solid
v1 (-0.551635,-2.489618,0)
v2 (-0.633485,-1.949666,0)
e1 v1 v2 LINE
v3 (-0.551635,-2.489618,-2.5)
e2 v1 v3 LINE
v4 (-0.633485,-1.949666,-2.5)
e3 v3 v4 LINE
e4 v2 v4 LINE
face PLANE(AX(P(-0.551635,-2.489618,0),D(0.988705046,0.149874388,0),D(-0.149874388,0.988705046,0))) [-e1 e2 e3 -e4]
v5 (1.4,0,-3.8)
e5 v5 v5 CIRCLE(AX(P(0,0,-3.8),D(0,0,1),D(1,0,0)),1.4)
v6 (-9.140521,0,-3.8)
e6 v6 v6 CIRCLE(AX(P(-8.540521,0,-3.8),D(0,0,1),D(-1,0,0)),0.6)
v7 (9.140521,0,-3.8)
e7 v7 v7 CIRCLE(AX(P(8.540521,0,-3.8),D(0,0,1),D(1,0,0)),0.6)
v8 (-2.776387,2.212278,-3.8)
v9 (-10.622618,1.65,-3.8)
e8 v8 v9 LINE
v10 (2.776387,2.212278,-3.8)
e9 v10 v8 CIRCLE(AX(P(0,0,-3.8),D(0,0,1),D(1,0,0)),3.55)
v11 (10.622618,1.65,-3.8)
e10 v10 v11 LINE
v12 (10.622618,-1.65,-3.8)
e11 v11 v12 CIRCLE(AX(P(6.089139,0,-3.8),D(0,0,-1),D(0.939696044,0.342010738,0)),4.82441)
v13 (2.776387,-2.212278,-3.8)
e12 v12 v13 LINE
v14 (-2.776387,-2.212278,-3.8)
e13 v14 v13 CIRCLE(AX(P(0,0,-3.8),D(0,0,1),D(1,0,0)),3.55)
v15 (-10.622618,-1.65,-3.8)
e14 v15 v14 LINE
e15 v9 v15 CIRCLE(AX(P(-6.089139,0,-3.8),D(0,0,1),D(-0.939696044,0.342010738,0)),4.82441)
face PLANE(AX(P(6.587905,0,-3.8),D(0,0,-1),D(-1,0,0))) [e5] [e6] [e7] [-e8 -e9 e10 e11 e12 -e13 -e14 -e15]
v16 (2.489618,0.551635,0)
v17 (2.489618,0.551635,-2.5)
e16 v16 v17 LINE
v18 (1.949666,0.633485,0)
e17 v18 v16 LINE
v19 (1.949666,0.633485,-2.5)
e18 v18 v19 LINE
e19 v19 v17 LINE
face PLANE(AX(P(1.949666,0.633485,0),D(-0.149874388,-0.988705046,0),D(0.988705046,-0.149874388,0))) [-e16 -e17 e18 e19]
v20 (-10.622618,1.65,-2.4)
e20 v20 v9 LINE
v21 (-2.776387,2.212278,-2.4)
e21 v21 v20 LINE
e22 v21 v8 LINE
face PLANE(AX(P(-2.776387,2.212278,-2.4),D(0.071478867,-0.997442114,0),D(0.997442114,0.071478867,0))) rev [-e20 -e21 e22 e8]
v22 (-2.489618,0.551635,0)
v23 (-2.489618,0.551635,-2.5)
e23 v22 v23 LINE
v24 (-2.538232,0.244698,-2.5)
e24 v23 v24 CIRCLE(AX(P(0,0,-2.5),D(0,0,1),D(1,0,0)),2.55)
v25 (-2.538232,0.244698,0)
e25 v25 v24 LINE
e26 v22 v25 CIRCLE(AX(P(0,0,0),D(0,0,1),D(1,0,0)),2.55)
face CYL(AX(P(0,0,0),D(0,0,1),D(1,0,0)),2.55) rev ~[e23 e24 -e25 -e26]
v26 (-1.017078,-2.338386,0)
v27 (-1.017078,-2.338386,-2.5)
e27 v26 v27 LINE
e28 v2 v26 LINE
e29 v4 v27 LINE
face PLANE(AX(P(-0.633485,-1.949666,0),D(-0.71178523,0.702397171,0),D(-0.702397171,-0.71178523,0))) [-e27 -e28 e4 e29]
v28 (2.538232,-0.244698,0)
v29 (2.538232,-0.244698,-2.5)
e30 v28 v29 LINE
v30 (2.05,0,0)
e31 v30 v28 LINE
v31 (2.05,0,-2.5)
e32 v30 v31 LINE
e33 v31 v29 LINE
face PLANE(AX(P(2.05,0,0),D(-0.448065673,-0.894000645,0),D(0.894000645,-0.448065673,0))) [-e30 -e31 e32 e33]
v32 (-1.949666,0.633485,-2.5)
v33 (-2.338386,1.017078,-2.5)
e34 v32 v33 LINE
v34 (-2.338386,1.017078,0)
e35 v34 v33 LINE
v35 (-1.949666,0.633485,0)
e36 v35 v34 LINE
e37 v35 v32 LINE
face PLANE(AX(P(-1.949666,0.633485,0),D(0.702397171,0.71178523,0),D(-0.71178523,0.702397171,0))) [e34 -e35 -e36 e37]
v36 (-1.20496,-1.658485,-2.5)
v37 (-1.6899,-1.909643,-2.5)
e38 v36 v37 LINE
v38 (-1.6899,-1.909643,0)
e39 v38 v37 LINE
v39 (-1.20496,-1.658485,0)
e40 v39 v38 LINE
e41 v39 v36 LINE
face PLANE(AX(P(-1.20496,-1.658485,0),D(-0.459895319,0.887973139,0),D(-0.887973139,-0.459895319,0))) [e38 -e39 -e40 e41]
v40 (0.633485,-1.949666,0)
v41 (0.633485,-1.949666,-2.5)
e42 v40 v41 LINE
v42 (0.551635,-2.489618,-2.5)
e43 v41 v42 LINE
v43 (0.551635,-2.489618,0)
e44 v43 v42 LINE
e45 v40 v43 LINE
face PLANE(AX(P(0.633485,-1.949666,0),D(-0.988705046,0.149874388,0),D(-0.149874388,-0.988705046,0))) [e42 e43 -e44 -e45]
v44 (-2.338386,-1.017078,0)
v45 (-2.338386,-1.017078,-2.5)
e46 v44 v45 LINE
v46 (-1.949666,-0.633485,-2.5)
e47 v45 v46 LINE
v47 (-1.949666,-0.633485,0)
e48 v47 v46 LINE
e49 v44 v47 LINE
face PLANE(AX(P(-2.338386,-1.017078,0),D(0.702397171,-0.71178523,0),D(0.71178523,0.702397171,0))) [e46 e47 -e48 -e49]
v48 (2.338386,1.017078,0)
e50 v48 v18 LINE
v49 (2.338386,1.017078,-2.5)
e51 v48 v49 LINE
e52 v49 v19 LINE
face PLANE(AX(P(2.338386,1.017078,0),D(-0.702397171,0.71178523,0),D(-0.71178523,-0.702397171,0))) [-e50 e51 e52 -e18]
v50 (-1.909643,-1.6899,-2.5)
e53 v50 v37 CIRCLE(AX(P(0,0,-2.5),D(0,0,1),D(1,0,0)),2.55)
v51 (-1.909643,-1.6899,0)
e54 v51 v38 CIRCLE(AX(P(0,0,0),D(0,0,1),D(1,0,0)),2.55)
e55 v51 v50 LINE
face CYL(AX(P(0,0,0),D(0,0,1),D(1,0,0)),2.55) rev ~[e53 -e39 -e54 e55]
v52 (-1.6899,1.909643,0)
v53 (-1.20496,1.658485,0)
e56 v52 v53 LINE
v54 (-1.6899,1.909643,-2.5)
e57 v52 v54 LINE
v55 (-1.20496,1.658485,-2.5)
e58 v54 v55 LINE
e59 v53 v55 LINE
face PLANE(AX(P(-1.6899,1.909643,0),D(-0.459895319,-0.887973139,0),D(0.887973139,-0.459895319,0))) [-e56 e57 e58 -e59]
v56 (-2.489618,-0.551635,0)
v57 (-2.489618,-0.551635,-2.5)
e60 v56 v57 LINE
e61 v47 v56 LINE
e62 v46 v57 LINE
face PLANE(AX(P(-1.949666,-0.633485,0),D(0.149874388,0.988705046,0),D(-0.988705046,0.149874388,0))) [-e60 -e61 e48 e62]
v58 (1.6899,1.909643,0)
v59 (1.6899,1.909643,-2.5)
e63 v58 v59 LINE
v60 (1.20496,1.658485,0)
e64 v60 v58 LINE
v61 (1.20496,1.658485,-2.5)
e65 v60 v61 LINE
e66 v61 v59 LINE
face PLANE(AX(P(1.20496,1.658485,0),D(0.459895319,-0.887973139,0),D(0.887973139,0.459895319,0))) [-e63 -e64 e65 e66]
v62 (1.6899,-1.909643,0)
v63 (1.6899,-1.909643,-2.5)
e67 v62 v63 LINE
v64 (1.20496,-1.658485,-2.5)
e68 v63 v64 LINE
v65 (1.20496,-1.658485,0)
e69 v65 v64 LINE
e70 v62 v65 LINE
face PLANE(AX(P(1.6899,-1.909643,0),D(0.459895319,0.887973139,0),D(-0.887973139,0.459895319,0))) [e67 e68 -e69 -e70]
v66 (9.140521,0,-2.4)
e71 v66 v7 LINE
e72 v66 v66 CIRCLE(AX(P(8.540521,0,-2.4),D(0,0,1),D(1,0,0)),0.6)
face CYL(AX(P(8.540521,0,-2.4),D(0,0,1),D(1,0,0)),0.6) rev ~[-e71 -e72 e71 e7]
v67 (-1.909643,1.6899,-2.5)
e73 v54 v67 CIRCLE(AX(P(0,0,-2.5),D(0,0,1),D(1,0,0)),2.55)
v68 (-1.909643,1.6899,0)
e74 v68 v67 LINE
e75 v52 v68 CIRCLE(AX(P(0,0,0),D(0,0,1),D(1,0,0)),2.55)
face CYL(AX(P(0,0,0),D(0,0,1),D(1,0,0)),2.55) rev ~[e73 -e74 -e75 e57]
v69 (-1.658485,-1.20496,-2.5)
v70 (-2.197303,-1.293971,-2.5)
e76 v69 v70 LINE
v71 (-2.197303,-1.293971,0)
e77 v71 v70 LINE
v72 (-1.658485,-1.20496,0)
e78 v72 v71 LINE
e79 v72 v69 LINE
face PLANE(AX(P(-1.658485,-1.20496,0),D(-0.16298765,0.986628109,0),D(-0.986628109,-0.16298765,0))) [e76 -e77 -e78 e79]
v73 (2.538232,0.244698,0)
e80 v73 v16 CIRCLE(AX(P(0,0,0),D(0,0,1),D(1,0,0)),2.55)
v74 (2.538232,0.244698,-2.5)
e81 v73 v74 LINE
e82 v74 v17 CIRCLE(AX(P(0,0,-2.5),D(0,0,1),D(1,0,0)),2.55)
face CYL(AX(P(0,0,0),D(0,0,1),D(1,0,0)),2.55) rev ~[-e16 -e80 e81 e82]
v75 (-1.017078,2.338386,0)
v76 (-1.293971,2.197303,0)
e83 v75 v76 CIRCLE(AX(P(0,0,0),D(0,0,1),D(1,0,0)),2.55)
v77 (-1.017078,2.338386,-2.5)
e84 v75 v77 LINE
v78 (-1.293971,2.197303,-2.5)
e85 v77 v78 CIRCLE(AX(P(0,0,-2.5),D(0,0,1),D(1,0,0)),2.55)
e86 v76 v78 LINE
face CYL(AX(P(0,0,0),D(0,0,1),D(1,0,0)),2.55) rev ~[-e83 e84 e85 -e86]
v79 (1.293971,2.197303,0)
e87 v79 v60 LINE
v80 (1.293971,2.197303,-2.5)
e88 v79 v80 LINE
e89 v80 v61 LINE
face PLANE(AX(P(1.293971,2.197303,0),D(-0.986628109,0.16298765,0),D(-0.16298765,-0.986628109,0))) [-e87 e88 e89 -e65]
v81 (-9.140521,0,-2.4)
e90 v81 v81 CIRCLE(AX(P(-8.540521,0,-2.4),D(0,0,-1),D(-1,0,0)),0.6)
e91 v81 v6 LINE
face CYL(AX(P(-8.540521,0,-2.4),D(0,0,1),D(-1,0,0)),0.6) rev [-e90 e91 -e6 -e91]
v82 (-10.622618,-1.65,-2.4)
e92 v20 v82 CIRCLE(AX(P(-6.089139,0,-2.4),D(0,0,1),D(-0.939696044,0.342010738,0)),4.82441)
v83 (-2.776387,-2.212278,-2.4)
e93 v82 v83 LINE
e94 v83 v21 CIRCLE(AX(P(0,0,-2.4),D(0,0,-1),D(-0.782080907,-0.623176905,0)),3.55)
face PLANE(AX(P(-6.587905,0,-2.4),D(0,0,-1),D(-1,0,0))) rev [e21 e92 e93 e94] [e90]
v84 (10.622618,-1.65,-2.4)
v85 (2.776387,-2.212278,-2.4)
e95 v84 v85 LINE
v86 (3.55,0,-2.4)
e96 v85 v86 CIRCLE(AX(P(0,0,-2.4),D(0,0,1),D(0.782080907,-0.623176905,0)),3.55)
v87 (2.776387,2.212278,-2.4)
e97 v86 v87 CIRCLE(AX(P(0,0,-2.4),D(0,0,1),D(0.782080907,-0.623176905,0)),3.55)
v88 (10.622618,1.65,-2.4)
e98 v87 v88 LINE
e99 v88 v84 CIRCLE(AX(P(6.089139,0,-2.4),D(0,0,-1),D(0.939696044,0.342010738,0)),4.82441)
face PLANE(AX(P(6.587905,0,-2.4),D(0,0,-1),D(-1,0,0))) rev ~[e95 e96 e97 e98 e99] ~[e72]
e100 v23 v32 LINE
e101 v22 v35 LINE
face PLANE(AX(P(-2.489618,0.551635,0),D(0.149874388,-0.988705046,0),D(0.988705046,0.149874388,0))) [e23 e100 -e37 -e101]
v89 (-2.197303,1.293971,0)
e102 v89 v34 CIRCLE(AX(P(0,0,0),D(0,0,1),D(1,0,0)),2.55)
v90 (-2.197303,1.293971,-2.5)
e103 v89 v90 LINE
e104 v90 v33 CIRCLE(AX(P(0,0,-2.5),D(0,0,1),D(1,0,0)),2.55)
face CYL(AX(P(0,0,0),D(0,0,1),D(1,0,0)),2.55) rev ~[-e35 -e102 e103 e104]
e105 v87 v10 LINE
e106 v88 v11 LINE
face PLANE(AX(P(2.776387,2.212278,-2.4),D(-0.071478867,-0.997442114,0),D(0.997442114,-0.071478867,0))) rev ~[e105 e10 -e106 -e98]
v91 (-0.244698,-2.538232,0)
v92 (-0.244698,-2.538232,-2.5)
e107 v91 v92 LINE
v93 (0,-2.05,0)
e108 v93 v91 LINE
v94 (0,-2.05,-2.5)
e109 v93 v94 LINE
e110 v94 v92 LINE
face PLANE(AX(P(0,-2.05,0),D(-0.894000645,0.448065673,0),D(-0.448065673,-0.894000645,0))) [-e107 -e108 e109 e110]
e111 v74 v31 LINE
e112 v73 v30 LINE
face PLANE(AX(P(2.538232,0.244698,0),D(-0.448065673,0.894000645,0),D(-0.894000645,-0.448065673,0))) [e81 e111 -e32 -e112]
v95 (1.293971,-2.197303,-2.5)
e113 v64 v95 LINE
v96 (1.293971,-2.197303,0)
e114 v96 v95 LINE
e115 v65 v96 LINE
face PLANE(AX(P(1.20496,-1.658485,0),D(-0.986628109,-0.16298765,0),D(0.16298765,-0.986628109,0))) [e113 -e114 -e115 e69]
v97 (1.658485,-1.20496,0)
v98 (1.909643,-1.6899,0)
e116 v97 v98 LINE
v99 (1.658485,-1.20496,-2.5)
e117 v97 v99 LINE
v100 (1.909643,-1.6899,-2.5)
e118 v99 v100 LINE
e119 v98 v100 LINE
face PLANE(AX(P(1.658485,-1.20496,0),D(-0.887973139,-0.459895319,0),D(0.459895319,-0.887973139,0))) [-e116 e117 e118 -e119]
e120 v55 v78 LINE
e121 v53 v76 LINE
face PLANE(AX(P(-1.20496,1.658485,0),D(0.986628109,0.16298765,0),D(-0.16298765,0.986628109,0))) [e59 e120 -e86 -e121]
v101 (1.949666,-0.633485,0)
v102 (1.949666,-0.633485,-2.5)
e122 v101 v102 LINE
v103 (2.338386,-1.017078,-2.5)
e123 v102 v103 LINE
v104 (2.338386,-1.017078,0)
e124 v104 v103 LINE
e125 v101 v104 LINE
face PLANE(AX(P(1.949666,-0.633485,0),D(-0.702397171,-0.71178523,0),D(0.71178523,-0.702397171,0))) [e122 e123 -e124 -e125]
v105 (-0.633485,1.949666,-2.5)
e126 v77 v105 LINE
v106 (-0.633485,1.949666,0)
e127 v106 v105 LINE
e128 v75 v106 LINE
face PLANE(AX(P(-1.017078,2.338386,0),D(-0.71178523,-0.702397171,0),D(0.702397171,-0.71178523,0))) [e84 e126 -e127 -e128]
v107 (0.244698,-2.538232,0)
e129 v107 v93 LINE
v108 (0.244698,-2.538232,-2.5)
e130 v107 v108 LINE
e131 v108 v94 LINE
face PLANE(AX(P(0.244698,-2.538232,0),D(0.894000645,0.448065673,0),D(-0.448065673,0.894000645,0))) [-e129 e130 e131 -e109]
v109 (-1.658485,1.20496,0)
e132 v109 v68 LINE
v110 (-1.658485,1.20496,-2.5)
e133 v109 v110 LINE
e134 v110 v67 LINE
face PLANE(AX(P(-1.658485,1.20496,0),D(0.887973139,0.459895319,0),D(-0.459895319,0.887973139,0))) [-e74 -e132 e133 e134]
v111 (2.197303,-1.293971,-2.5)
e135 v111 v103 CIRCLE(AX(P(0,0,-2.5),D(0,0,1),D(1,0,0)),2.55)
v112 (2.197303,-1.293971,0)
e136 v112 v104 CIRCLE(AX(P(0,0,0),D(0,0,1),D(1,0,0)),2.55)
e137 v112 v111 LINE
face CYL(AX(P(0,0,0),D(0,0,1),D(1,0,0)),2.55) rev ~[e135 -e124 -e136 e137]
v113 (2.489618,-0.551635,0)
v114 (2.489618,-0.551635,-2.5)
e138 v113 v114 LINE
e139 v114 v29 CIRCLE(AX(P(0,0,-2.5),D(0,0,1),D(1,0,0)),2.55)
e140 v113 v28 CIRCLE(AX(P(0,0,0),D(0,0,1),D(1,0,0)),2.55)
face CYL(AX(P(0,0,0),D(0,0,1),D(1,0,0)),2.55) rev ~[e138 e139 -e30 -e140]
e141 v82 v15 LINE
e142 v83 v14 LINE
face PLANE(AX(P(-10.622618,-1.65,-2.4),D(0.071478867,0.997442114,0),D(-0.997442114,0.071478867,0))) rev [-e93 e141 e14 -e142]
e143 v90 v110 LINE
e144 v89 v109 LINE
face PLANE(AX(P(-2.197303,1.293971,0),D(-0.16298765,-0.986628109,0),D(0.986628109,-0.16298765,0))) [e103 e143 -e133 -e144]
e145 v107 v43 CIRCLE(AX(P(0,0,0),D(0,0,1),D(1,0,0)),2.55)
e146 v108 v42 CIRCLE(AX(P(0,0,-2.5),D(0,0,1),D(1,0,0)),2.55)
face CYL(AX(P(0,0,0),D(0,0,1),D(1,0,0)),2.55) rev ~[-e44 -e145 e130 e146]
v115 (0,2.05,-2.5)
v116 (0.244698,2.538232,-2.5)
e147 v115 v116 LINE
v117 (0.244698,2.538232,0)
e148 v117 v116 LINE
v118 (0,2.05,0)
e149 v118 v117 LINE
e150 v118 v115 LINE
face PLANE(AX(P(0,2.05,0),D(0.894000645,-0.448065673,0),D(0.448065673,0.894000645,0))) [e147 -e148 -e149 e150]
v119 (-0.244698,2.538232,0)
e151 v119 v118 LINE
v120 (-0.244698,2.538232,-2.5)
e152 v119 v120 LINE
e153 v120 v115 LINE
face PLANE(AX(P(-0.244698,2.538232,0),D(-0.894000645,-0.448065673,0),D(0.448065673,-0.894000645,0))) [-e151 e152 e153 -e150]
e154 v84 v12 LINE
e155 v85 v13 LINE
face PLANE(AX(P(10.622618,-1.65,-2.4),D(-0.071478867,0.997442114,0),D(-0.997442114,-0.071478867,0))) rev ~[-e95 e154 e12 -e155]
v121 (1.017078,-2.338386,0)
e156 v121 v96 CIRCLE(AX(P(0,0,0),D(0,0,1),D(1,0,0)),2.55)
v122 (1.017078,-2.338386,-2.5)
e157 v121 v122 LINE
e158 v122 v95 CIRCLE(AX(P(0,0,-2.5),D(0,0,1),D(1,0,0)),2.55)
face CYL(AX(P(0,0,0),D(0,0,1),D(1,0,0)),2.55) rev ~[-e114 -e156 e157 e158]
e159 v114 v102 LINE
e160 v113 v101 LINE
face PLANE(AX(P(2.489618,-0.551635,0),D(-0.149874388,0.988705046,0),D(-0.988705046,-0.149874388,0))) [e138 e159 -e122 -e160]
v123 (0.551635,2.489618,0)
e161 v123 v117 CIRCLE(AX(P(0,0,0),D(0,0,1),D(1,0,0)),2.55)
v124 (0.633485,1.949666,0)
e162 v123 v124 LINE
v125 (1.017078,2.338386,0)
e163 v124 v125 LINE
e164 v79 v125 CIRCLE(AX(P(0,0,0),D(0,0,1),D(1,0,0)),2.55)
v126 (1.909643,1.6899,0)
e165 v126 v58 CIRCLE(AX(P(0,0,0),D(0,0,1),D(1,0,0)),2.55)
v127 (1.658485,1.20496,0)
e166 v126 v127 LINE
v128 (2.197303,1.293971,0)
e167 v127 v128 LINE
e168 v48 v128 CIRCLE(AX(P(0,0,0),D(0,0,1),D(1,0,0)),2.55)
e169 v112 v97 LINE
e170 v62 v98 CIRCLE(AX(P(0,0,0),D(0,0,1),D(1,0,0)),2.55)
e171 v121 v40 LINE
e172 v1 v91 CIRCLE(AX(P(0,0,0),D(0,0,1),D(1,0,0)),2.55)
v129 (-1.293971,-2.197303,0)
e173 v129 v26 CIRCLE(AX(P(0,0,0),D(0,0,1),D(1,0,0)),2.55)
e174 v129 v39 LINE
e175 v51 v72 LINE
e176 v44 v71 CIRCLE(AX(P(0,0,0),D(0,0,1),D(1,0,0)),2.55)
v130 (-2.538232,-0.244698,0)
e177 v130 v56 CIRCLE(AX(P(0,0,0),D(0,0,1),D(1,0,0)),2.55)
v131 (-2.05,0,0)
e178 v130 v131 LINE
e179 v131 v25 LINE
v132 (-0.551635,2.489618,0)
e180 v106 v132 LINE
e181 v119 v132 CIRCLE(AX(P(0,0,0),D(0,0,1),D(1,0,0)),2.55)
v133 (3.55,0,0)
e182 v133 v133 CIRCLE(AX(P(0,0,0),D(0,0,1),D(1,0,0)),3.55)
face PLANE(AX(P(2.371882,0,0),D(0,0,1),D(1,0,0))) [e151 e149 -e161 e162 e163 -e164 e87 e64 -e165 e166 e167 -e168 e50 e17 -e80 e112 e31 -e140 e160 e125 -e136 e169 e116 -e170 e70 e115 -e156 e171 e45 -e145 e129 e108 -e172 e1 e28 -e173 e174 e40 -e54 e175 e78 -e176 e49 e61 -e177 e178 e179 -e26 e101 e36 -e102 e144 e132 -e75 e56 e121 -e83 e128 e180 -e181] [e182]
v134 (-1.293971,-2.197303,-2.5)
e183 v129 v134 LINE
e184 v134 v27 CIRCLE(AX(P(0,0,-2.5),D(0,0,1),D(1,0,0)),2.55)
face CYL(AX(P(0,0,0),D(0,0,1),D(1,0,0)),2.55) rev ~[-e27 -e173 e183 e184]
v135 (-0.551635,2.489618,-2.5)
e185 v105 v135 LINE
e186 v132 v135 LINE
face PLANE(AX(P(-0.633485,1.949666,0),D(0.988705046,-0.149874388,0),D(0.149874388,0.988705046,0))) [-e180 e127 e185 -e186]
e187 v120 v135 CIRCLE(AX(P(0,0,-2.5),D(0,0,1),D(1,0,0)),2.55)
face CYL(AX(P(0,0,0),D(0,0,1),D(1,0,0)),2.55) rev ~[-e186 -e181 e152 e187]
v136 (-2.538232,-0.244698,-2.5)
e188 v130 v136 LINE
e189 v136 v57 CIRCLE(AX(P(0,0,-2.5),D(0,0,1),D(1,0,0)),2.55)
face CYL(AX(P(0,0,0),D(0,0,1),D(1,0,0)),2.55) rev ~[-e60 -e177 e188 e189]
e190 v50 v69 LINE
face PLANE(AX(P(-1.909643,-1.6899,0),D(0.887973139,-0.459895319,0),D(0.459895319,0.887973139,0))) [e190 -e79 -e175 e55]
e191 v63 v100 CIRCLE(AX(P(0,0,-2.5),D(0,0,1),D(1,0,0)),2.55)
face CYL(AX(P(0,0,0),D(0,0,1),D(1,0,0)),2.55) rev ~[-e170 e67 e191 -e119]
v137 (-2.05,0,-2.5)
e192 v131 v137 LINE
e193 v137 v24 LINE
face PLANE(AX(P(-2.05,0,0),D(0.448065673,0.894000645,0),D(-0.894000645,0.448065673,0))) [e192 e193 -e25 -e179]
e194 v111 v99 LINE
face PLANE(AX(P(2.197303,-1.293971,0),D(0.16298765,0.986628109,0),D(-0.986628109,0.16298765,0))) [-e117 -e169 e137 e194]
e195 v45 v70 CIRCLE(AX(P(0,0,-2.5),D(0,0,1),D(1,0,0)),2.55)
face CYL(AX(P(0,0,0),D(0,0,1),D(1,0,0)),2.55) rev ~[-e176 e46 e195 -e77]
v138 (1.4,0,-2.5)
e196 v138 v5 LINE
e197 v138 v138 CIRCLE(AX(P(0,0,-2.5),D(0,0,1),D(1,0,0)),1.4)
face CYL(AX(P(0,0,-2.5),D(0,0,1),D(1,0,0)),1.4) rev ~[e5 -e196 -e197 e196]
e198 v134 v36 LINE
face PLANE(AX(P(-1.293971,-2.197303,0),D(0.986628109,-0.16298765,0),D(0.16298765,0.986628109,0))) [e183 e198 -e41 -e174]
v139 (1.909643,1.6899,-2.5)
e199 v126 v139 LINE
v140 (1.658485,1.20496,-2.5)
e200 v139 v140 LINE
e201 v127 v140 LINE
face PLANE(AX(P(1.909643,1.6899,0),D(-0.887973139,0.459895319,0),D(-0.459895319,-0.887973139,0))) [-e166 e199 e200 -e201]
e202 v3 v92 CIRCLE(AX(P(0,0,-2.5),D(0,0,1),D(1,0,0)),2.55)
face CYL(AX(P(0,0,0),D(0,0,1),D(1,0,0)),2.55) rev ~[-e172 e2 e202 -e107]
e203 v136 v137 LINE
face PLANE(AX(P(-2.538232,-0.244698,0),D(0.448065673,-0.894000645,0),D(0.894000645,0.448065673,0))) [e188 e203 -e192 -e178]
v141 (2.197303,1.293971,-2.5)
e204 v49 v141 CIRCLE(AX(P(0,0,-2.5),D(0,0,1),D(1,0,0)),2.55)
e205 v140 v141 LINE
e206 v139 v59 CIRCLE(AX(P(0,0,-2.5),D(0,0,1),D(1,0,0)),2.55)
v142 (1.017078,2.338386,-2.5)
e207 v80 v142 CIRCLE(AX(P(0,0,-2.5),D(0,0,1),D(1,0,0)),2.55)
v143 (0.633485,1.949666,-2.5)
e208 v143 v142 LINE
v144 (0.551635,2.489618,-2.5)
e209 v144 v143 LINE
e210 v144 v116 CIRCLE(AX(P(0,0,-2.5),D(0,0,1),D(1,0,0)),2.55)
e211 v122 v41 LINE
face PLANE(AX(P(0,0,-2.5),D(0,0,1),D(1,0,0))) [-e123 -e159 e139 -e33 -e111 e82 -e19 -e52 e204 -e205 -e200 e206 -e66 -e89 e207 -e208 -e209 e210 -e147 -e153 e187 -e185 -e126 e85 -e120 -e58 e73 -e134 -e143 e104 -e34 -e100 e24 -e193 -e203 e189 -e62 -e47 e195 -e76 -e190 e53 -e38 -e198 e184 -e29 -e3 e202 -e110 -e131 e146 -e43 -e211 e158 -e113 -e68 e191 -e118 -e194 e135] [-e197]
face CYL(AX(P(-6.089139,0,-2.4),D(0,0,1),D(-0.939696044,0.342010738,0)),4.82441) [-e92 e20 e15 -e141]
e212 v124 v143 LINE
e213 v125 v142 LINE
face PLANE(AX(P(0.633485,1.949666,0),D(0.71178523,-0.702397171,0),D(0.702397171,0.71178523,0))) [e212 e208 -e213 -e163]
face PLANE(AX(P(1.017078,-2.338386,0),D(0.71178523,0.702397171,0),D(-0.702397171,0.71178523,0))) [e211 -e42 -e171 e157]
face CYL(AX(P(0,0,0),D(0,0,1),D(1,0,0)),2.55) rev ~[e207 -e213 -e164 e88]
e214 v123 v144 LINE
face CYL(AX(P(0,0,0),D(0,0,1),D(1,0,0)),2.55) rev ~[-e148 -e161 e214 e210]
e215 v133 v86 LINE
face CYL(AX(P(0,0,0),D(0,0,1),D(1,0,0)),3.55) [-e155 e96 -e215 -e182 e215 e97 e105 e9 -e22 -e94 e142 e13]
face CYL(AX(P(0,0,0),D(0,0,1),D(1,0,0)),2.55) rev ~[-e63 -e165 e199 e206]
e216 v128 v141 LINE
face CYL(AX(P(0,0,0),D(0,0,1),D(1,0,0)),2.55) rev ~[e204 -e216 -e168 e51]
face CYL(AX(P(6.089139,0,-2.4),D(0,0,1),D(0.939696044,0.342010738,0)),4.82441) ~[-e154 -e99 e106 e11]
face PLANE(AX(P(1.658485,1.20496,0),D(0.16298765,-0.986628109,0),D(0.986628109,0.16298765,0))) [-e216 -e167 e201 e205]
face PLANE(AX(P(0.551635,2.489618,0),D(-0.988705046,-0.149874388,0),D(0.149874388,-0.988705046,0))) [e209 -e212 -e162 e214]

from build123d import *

# Parameters (mm, degrees)
SKETCH2_R           = 3.55
BOSS_EXTRUDE1_DEPTH = 3.8
BOSS_EXTRUDE2_DEPTH = 1.4
SKETCH5_R           = 2.549999919
CUT_EXTRUDE1_DEPTH  = 2.5
BOSS_EXTRUDE3_DEPTH = 2.5
SKETCH6_R           = 1.4
CUT_EXTRUDE2_DEPTH  = 12.745554295
SKETCH7_R           = 0.6
CUT_EXTRUDE3_DEPTH  = 12.724676785


with BuildPart() as part:
    # Sketch2 → Boss-Extrude1 (new body)
    with BuildSketch(Plane.XY):
        Circle(SKETCH2_R)
    extrude(amount=-BOSS_EXTRUDE1_DEPTH)

    # Sketch4 → Boss-Extrude2 (add)
    with BuildSketch(Plane.XY.offset(-2.4)):
        with BuildLine():
            Line((2.776387215, 2.212277889), (10.622617722, 1.649999976))
            ThreePointArc((10.622617722, 1.649999976), (10.913548722, 0), (10.622617722, -1.649999976))
            Line((10.622617722, -1.649999976), (2.776387215, -2.212277889))
            ThreePointArc((2.776387215, -2.212277889), (3.549999952, 0), (2.776387215, 2.212277889))
        make_face()
    boss_extrude2 = extrude(amount=-BOSS_EXTRUDE2_DEPTH)

    # Sketch5 → Cut-Extrude1 (cut)
    with BuildSketch(Plane.XY):
        Circle(SKETCH5_R)
    extrude(amount=-CUT_EXTRUDE1_DEPTH, mode=Mode.SUBTRACT)

    # Sketch3 → Boss-Extrude3 (add)
    with BuildSketch(Plane.XY):
        with BuildLine():
            Line((-0.244697916, 2.538232164), (0, 2.049999952))
            Line((0, 2.049999952), (0.244697916, 2.538232164))
            ThreePointArc((0.244697916, 2.538232164), (0, 2.549999919), (-0.244697916, 2.538232164))
        make_face()
        with BuildLine():
            Line((0.551635326, 2.489618054), (0.633484824, 1.949665813))
            Line((0.633484824, 1.949665813), (1.017078422, 2.338386424))
            ThreePointArc((1.017078422, 2.338386424), (0.787993311, 2.42519404), (0.551635326, 2.489618054))
        make_face()
        with BuildLine():
            Line((1.29397066, 2.197302783), (1.204959739, 1.6584848))
            Line((1.204959739, 1.6584848), (1.689900206, 1.90964313))
            ThreePointArc((1.689900206, 1.90964313), (1.498852346, 2.06299327), (1.29397066, 2.197302783))
        make_face()
        with BuildLine():
            Line((1.90964313, 1.689900206), (1.6584848, 1.204959739))
            Line((1.6584848, 1.204959739), (2.197302783, 1.29397066))
            ThreePointArc((2.197302783, 1.29397066), (2.06299327, 1.498852346), (1.90964313, 1.689900206))
        make_face()
        with BuildLine():
            Line((2.338386424, 1.017078422), (1.949665813, 0.633484824))
            Line((1.949665813, 0.633484824), (2.489618054, 0.551635326))
            ThreePointArc((2.489618054, 0.551635326), (2.42519404, 0.787993311), (2.338386424, 1.017078422))
        make_face()
        with BuildLine():
            Line((2.538232164, 0.244697916), (2.049999952, 0))
            Line((2.049999952, 0), (2.538232164, -0.244697916))
            ThreePointArc((2.538232164, -0.244697916), (2.549999919, 0), (2.538232164, 0.244697916))
        make_face()
        with BuildLine():
            Line((2.489618054, -0.551635326), (1.949665813, -0.633484824))
            Line((1.949665813, -0.633484824), (2.338386424, -1.017078422))
            ThreePointArc((2.338386424, -1.017078422), (2.42519404, -0.787993311), (2.489618054, -0.551635326))
        make_face()
        with BuildLine():
            Line((2.197302783, -1.29397066), (1.6584848, -1.204959739))
            Line((1.6584848, -1.204959739), (1.90964313, -1.689900206))
            ThreePointArc((1.90964313, -1.689900206), (2.06299327, -1.498852346), (2.197302783, -1.29397066))
        make_face()
        with BuildLine():
            Line((1.689900206, -1.90964313), (1.204959739, -1.6584848))
            Line((1.204959739, -1.6584848), (1.29397066, -2.197302783))
            ThreePointArc((1.29397066, -2.197302783), (1.498852346, -2.06299327), (1.689900206, -1.90964313))
        make_face()
        with BuildLine():
            Line((1.017078422, -2.338386424), (0.633484824, -1.949665813))
            Line((0.633484824, -1.949665813), (0.551635326, -2.489618054))
            ThreePointArc((0.551635326, -2.489618054), (0.787993311, -2.42519404), (1.017078422, -2.338386424))
        make_face()
        with BuildLine():
            Line((0.244697916, -2.538232164), (0, -2.049999952))
            Line((0, -2.049999952), (-0.244697916, -2.538232164))
            ThreePointArc((-0.244697916, -2.538232164), (0, -2.549999919), (0.244697916, -2.538232164))
        make_face()
        with BuildLine():
            Line((-0.551635326, -2.489618054), (-0.633484824, -1.949665813))
            Line((-0.633484824, -1.949665813), (-1.017078422, -2.338386424))
            ThreePointArc((-1.017078422, -2.338386424), (-0.787993311, -2.42519404), (-0.551635326, -2.489618054))
        make_face()
        with BuildLine():
            Line((-1.29397066, -2.197302783), (-1.204959739, -1.6584848))
            Line((-1.204959739, -1.6584848), (-1.689900206, -1.90964313))
            ThreePointArc((-1.689900206, -1.90964313), (-1.498852346, -2.06299327), (-1.29397066, -2.197302783))
        make_face()
        with BuildLine():
            Line((-1.90964313, -1.689900206), (-1.6584848, -1.204959739))
            Line((-1.6584848, -1.204959739), (-2.197302783, -1.29397066))
            ThreePointArc((-2.197302783, -1.29397066), (-2.06299327, -1.498852346), (-1.90964313, -1.689900206))
        make_face()
        with BuildLine():
            Line((-2.338386424, -1.017078422), (-1.949665813, -0.633484824))
            Line((-1.949665813, -0.633484824), (-2.489618054, -0.551635326))
            ThreePointArc((-2.489618054, -0.551635326), (-2.42519404, -0.787993311), (-2.338386424, -1.017078422))
        make_face()
        with BuildLine():
            Line((-2.538232164, -0.244697916), (-2.049999952, 0))
            Line((-2.049999952, 0), (-2.538232164, 0.244697916))
            ThreePointArc((-2.538232164, 0.244697916), (-2.549999919, 0), (-2.538232164, -0.244697916))
        make_face()
        with BuildLine():
            Line((-2.489618054, 0.551635326), (-1.949665813, 0.633484824))
            Line((-1.949665813, 0.633484824), (-2.338386424, 1.017078422))
            ThreePointArc((-2.338386424, 1.017078422), (-2.42519404, 0.787993311), (-2.489618054, 0.551635326))
        make_face()
        with BuildLine():
            Line((-2.197302783, 1.29397066), (-1.6584848, 1.204959739))
            Line((-1.6584848, 1.204959739), (-1.90964313, 1.689900206))
            ThreePointArc((-1.90964313, 1.689900206), (-2.06299327, 1.498852346), (-2.197302783, 1.29397066))
        make_face()
        with BuildLine():
            Line((-1.689900206, 1.90964313), (-1.204959739, 1.6584848))
            Line((-1.204959739, 1.6584848), (-1.29397066, 2.197302783))
            ThreePointArc((-1.29397066, 2.197302783), (-1.498852346, 2.06299327), (-1.689900206, 1.90964313))
        make_face()
        with BuildLine():
            Line((-1.017078422, 2.338386424), (-0.633484824, 1.949665813))
            Line((-0.633484824, 1.949665813), (-0.551635326, 2.489618054))
            ThreePointArc((-0.551635326, 2.489618054), (-0.787993311, 2.42519404), (-1.017078422, 2.338386424))
        make_face()
    extrude(amount=-BOSS_EXTRUDE3_DEPTH)

    # Sketch6 → Cut-Extrude2 (cut, through all)
    with BuildSketch(Plane.XY.offset(-2.5)):
        Circle(SKETCH6_R)
    extrude(amount=-CUT_EXTRUDE2_DEPTH, mode=Mode.SUBTRACT)

    # Sketch7 → Cut-Extrude3 (cut, through all)
    with BuildSketch(Plane.XY.offset(-2.4)):
        with Locations((8.5405208, 0)):
            Circle(SKETCH7_R)
    cut_extrude3 = extrude(amount=-CUT_EXTRUDE3_DEPTH, mode=Mode.SUBTRACT)

    # Mirror1: Boss-Extrude2 across plane
    add(boss_extrude2.mirror(Plane(origin=(0, 0, 0), x_dir=(0, 0, 1), z_dir=(1, 0, 0))))

    # Mirror2: Cut-Extrude3 across plane
    add(cut_extrude3.mirror(Plane(origin=(0, 0, 0), x_dir=(0, 0, 1), z_dir=(1, 0, 0))), mode=Mode.SUBTRACT)


solid = part.part
